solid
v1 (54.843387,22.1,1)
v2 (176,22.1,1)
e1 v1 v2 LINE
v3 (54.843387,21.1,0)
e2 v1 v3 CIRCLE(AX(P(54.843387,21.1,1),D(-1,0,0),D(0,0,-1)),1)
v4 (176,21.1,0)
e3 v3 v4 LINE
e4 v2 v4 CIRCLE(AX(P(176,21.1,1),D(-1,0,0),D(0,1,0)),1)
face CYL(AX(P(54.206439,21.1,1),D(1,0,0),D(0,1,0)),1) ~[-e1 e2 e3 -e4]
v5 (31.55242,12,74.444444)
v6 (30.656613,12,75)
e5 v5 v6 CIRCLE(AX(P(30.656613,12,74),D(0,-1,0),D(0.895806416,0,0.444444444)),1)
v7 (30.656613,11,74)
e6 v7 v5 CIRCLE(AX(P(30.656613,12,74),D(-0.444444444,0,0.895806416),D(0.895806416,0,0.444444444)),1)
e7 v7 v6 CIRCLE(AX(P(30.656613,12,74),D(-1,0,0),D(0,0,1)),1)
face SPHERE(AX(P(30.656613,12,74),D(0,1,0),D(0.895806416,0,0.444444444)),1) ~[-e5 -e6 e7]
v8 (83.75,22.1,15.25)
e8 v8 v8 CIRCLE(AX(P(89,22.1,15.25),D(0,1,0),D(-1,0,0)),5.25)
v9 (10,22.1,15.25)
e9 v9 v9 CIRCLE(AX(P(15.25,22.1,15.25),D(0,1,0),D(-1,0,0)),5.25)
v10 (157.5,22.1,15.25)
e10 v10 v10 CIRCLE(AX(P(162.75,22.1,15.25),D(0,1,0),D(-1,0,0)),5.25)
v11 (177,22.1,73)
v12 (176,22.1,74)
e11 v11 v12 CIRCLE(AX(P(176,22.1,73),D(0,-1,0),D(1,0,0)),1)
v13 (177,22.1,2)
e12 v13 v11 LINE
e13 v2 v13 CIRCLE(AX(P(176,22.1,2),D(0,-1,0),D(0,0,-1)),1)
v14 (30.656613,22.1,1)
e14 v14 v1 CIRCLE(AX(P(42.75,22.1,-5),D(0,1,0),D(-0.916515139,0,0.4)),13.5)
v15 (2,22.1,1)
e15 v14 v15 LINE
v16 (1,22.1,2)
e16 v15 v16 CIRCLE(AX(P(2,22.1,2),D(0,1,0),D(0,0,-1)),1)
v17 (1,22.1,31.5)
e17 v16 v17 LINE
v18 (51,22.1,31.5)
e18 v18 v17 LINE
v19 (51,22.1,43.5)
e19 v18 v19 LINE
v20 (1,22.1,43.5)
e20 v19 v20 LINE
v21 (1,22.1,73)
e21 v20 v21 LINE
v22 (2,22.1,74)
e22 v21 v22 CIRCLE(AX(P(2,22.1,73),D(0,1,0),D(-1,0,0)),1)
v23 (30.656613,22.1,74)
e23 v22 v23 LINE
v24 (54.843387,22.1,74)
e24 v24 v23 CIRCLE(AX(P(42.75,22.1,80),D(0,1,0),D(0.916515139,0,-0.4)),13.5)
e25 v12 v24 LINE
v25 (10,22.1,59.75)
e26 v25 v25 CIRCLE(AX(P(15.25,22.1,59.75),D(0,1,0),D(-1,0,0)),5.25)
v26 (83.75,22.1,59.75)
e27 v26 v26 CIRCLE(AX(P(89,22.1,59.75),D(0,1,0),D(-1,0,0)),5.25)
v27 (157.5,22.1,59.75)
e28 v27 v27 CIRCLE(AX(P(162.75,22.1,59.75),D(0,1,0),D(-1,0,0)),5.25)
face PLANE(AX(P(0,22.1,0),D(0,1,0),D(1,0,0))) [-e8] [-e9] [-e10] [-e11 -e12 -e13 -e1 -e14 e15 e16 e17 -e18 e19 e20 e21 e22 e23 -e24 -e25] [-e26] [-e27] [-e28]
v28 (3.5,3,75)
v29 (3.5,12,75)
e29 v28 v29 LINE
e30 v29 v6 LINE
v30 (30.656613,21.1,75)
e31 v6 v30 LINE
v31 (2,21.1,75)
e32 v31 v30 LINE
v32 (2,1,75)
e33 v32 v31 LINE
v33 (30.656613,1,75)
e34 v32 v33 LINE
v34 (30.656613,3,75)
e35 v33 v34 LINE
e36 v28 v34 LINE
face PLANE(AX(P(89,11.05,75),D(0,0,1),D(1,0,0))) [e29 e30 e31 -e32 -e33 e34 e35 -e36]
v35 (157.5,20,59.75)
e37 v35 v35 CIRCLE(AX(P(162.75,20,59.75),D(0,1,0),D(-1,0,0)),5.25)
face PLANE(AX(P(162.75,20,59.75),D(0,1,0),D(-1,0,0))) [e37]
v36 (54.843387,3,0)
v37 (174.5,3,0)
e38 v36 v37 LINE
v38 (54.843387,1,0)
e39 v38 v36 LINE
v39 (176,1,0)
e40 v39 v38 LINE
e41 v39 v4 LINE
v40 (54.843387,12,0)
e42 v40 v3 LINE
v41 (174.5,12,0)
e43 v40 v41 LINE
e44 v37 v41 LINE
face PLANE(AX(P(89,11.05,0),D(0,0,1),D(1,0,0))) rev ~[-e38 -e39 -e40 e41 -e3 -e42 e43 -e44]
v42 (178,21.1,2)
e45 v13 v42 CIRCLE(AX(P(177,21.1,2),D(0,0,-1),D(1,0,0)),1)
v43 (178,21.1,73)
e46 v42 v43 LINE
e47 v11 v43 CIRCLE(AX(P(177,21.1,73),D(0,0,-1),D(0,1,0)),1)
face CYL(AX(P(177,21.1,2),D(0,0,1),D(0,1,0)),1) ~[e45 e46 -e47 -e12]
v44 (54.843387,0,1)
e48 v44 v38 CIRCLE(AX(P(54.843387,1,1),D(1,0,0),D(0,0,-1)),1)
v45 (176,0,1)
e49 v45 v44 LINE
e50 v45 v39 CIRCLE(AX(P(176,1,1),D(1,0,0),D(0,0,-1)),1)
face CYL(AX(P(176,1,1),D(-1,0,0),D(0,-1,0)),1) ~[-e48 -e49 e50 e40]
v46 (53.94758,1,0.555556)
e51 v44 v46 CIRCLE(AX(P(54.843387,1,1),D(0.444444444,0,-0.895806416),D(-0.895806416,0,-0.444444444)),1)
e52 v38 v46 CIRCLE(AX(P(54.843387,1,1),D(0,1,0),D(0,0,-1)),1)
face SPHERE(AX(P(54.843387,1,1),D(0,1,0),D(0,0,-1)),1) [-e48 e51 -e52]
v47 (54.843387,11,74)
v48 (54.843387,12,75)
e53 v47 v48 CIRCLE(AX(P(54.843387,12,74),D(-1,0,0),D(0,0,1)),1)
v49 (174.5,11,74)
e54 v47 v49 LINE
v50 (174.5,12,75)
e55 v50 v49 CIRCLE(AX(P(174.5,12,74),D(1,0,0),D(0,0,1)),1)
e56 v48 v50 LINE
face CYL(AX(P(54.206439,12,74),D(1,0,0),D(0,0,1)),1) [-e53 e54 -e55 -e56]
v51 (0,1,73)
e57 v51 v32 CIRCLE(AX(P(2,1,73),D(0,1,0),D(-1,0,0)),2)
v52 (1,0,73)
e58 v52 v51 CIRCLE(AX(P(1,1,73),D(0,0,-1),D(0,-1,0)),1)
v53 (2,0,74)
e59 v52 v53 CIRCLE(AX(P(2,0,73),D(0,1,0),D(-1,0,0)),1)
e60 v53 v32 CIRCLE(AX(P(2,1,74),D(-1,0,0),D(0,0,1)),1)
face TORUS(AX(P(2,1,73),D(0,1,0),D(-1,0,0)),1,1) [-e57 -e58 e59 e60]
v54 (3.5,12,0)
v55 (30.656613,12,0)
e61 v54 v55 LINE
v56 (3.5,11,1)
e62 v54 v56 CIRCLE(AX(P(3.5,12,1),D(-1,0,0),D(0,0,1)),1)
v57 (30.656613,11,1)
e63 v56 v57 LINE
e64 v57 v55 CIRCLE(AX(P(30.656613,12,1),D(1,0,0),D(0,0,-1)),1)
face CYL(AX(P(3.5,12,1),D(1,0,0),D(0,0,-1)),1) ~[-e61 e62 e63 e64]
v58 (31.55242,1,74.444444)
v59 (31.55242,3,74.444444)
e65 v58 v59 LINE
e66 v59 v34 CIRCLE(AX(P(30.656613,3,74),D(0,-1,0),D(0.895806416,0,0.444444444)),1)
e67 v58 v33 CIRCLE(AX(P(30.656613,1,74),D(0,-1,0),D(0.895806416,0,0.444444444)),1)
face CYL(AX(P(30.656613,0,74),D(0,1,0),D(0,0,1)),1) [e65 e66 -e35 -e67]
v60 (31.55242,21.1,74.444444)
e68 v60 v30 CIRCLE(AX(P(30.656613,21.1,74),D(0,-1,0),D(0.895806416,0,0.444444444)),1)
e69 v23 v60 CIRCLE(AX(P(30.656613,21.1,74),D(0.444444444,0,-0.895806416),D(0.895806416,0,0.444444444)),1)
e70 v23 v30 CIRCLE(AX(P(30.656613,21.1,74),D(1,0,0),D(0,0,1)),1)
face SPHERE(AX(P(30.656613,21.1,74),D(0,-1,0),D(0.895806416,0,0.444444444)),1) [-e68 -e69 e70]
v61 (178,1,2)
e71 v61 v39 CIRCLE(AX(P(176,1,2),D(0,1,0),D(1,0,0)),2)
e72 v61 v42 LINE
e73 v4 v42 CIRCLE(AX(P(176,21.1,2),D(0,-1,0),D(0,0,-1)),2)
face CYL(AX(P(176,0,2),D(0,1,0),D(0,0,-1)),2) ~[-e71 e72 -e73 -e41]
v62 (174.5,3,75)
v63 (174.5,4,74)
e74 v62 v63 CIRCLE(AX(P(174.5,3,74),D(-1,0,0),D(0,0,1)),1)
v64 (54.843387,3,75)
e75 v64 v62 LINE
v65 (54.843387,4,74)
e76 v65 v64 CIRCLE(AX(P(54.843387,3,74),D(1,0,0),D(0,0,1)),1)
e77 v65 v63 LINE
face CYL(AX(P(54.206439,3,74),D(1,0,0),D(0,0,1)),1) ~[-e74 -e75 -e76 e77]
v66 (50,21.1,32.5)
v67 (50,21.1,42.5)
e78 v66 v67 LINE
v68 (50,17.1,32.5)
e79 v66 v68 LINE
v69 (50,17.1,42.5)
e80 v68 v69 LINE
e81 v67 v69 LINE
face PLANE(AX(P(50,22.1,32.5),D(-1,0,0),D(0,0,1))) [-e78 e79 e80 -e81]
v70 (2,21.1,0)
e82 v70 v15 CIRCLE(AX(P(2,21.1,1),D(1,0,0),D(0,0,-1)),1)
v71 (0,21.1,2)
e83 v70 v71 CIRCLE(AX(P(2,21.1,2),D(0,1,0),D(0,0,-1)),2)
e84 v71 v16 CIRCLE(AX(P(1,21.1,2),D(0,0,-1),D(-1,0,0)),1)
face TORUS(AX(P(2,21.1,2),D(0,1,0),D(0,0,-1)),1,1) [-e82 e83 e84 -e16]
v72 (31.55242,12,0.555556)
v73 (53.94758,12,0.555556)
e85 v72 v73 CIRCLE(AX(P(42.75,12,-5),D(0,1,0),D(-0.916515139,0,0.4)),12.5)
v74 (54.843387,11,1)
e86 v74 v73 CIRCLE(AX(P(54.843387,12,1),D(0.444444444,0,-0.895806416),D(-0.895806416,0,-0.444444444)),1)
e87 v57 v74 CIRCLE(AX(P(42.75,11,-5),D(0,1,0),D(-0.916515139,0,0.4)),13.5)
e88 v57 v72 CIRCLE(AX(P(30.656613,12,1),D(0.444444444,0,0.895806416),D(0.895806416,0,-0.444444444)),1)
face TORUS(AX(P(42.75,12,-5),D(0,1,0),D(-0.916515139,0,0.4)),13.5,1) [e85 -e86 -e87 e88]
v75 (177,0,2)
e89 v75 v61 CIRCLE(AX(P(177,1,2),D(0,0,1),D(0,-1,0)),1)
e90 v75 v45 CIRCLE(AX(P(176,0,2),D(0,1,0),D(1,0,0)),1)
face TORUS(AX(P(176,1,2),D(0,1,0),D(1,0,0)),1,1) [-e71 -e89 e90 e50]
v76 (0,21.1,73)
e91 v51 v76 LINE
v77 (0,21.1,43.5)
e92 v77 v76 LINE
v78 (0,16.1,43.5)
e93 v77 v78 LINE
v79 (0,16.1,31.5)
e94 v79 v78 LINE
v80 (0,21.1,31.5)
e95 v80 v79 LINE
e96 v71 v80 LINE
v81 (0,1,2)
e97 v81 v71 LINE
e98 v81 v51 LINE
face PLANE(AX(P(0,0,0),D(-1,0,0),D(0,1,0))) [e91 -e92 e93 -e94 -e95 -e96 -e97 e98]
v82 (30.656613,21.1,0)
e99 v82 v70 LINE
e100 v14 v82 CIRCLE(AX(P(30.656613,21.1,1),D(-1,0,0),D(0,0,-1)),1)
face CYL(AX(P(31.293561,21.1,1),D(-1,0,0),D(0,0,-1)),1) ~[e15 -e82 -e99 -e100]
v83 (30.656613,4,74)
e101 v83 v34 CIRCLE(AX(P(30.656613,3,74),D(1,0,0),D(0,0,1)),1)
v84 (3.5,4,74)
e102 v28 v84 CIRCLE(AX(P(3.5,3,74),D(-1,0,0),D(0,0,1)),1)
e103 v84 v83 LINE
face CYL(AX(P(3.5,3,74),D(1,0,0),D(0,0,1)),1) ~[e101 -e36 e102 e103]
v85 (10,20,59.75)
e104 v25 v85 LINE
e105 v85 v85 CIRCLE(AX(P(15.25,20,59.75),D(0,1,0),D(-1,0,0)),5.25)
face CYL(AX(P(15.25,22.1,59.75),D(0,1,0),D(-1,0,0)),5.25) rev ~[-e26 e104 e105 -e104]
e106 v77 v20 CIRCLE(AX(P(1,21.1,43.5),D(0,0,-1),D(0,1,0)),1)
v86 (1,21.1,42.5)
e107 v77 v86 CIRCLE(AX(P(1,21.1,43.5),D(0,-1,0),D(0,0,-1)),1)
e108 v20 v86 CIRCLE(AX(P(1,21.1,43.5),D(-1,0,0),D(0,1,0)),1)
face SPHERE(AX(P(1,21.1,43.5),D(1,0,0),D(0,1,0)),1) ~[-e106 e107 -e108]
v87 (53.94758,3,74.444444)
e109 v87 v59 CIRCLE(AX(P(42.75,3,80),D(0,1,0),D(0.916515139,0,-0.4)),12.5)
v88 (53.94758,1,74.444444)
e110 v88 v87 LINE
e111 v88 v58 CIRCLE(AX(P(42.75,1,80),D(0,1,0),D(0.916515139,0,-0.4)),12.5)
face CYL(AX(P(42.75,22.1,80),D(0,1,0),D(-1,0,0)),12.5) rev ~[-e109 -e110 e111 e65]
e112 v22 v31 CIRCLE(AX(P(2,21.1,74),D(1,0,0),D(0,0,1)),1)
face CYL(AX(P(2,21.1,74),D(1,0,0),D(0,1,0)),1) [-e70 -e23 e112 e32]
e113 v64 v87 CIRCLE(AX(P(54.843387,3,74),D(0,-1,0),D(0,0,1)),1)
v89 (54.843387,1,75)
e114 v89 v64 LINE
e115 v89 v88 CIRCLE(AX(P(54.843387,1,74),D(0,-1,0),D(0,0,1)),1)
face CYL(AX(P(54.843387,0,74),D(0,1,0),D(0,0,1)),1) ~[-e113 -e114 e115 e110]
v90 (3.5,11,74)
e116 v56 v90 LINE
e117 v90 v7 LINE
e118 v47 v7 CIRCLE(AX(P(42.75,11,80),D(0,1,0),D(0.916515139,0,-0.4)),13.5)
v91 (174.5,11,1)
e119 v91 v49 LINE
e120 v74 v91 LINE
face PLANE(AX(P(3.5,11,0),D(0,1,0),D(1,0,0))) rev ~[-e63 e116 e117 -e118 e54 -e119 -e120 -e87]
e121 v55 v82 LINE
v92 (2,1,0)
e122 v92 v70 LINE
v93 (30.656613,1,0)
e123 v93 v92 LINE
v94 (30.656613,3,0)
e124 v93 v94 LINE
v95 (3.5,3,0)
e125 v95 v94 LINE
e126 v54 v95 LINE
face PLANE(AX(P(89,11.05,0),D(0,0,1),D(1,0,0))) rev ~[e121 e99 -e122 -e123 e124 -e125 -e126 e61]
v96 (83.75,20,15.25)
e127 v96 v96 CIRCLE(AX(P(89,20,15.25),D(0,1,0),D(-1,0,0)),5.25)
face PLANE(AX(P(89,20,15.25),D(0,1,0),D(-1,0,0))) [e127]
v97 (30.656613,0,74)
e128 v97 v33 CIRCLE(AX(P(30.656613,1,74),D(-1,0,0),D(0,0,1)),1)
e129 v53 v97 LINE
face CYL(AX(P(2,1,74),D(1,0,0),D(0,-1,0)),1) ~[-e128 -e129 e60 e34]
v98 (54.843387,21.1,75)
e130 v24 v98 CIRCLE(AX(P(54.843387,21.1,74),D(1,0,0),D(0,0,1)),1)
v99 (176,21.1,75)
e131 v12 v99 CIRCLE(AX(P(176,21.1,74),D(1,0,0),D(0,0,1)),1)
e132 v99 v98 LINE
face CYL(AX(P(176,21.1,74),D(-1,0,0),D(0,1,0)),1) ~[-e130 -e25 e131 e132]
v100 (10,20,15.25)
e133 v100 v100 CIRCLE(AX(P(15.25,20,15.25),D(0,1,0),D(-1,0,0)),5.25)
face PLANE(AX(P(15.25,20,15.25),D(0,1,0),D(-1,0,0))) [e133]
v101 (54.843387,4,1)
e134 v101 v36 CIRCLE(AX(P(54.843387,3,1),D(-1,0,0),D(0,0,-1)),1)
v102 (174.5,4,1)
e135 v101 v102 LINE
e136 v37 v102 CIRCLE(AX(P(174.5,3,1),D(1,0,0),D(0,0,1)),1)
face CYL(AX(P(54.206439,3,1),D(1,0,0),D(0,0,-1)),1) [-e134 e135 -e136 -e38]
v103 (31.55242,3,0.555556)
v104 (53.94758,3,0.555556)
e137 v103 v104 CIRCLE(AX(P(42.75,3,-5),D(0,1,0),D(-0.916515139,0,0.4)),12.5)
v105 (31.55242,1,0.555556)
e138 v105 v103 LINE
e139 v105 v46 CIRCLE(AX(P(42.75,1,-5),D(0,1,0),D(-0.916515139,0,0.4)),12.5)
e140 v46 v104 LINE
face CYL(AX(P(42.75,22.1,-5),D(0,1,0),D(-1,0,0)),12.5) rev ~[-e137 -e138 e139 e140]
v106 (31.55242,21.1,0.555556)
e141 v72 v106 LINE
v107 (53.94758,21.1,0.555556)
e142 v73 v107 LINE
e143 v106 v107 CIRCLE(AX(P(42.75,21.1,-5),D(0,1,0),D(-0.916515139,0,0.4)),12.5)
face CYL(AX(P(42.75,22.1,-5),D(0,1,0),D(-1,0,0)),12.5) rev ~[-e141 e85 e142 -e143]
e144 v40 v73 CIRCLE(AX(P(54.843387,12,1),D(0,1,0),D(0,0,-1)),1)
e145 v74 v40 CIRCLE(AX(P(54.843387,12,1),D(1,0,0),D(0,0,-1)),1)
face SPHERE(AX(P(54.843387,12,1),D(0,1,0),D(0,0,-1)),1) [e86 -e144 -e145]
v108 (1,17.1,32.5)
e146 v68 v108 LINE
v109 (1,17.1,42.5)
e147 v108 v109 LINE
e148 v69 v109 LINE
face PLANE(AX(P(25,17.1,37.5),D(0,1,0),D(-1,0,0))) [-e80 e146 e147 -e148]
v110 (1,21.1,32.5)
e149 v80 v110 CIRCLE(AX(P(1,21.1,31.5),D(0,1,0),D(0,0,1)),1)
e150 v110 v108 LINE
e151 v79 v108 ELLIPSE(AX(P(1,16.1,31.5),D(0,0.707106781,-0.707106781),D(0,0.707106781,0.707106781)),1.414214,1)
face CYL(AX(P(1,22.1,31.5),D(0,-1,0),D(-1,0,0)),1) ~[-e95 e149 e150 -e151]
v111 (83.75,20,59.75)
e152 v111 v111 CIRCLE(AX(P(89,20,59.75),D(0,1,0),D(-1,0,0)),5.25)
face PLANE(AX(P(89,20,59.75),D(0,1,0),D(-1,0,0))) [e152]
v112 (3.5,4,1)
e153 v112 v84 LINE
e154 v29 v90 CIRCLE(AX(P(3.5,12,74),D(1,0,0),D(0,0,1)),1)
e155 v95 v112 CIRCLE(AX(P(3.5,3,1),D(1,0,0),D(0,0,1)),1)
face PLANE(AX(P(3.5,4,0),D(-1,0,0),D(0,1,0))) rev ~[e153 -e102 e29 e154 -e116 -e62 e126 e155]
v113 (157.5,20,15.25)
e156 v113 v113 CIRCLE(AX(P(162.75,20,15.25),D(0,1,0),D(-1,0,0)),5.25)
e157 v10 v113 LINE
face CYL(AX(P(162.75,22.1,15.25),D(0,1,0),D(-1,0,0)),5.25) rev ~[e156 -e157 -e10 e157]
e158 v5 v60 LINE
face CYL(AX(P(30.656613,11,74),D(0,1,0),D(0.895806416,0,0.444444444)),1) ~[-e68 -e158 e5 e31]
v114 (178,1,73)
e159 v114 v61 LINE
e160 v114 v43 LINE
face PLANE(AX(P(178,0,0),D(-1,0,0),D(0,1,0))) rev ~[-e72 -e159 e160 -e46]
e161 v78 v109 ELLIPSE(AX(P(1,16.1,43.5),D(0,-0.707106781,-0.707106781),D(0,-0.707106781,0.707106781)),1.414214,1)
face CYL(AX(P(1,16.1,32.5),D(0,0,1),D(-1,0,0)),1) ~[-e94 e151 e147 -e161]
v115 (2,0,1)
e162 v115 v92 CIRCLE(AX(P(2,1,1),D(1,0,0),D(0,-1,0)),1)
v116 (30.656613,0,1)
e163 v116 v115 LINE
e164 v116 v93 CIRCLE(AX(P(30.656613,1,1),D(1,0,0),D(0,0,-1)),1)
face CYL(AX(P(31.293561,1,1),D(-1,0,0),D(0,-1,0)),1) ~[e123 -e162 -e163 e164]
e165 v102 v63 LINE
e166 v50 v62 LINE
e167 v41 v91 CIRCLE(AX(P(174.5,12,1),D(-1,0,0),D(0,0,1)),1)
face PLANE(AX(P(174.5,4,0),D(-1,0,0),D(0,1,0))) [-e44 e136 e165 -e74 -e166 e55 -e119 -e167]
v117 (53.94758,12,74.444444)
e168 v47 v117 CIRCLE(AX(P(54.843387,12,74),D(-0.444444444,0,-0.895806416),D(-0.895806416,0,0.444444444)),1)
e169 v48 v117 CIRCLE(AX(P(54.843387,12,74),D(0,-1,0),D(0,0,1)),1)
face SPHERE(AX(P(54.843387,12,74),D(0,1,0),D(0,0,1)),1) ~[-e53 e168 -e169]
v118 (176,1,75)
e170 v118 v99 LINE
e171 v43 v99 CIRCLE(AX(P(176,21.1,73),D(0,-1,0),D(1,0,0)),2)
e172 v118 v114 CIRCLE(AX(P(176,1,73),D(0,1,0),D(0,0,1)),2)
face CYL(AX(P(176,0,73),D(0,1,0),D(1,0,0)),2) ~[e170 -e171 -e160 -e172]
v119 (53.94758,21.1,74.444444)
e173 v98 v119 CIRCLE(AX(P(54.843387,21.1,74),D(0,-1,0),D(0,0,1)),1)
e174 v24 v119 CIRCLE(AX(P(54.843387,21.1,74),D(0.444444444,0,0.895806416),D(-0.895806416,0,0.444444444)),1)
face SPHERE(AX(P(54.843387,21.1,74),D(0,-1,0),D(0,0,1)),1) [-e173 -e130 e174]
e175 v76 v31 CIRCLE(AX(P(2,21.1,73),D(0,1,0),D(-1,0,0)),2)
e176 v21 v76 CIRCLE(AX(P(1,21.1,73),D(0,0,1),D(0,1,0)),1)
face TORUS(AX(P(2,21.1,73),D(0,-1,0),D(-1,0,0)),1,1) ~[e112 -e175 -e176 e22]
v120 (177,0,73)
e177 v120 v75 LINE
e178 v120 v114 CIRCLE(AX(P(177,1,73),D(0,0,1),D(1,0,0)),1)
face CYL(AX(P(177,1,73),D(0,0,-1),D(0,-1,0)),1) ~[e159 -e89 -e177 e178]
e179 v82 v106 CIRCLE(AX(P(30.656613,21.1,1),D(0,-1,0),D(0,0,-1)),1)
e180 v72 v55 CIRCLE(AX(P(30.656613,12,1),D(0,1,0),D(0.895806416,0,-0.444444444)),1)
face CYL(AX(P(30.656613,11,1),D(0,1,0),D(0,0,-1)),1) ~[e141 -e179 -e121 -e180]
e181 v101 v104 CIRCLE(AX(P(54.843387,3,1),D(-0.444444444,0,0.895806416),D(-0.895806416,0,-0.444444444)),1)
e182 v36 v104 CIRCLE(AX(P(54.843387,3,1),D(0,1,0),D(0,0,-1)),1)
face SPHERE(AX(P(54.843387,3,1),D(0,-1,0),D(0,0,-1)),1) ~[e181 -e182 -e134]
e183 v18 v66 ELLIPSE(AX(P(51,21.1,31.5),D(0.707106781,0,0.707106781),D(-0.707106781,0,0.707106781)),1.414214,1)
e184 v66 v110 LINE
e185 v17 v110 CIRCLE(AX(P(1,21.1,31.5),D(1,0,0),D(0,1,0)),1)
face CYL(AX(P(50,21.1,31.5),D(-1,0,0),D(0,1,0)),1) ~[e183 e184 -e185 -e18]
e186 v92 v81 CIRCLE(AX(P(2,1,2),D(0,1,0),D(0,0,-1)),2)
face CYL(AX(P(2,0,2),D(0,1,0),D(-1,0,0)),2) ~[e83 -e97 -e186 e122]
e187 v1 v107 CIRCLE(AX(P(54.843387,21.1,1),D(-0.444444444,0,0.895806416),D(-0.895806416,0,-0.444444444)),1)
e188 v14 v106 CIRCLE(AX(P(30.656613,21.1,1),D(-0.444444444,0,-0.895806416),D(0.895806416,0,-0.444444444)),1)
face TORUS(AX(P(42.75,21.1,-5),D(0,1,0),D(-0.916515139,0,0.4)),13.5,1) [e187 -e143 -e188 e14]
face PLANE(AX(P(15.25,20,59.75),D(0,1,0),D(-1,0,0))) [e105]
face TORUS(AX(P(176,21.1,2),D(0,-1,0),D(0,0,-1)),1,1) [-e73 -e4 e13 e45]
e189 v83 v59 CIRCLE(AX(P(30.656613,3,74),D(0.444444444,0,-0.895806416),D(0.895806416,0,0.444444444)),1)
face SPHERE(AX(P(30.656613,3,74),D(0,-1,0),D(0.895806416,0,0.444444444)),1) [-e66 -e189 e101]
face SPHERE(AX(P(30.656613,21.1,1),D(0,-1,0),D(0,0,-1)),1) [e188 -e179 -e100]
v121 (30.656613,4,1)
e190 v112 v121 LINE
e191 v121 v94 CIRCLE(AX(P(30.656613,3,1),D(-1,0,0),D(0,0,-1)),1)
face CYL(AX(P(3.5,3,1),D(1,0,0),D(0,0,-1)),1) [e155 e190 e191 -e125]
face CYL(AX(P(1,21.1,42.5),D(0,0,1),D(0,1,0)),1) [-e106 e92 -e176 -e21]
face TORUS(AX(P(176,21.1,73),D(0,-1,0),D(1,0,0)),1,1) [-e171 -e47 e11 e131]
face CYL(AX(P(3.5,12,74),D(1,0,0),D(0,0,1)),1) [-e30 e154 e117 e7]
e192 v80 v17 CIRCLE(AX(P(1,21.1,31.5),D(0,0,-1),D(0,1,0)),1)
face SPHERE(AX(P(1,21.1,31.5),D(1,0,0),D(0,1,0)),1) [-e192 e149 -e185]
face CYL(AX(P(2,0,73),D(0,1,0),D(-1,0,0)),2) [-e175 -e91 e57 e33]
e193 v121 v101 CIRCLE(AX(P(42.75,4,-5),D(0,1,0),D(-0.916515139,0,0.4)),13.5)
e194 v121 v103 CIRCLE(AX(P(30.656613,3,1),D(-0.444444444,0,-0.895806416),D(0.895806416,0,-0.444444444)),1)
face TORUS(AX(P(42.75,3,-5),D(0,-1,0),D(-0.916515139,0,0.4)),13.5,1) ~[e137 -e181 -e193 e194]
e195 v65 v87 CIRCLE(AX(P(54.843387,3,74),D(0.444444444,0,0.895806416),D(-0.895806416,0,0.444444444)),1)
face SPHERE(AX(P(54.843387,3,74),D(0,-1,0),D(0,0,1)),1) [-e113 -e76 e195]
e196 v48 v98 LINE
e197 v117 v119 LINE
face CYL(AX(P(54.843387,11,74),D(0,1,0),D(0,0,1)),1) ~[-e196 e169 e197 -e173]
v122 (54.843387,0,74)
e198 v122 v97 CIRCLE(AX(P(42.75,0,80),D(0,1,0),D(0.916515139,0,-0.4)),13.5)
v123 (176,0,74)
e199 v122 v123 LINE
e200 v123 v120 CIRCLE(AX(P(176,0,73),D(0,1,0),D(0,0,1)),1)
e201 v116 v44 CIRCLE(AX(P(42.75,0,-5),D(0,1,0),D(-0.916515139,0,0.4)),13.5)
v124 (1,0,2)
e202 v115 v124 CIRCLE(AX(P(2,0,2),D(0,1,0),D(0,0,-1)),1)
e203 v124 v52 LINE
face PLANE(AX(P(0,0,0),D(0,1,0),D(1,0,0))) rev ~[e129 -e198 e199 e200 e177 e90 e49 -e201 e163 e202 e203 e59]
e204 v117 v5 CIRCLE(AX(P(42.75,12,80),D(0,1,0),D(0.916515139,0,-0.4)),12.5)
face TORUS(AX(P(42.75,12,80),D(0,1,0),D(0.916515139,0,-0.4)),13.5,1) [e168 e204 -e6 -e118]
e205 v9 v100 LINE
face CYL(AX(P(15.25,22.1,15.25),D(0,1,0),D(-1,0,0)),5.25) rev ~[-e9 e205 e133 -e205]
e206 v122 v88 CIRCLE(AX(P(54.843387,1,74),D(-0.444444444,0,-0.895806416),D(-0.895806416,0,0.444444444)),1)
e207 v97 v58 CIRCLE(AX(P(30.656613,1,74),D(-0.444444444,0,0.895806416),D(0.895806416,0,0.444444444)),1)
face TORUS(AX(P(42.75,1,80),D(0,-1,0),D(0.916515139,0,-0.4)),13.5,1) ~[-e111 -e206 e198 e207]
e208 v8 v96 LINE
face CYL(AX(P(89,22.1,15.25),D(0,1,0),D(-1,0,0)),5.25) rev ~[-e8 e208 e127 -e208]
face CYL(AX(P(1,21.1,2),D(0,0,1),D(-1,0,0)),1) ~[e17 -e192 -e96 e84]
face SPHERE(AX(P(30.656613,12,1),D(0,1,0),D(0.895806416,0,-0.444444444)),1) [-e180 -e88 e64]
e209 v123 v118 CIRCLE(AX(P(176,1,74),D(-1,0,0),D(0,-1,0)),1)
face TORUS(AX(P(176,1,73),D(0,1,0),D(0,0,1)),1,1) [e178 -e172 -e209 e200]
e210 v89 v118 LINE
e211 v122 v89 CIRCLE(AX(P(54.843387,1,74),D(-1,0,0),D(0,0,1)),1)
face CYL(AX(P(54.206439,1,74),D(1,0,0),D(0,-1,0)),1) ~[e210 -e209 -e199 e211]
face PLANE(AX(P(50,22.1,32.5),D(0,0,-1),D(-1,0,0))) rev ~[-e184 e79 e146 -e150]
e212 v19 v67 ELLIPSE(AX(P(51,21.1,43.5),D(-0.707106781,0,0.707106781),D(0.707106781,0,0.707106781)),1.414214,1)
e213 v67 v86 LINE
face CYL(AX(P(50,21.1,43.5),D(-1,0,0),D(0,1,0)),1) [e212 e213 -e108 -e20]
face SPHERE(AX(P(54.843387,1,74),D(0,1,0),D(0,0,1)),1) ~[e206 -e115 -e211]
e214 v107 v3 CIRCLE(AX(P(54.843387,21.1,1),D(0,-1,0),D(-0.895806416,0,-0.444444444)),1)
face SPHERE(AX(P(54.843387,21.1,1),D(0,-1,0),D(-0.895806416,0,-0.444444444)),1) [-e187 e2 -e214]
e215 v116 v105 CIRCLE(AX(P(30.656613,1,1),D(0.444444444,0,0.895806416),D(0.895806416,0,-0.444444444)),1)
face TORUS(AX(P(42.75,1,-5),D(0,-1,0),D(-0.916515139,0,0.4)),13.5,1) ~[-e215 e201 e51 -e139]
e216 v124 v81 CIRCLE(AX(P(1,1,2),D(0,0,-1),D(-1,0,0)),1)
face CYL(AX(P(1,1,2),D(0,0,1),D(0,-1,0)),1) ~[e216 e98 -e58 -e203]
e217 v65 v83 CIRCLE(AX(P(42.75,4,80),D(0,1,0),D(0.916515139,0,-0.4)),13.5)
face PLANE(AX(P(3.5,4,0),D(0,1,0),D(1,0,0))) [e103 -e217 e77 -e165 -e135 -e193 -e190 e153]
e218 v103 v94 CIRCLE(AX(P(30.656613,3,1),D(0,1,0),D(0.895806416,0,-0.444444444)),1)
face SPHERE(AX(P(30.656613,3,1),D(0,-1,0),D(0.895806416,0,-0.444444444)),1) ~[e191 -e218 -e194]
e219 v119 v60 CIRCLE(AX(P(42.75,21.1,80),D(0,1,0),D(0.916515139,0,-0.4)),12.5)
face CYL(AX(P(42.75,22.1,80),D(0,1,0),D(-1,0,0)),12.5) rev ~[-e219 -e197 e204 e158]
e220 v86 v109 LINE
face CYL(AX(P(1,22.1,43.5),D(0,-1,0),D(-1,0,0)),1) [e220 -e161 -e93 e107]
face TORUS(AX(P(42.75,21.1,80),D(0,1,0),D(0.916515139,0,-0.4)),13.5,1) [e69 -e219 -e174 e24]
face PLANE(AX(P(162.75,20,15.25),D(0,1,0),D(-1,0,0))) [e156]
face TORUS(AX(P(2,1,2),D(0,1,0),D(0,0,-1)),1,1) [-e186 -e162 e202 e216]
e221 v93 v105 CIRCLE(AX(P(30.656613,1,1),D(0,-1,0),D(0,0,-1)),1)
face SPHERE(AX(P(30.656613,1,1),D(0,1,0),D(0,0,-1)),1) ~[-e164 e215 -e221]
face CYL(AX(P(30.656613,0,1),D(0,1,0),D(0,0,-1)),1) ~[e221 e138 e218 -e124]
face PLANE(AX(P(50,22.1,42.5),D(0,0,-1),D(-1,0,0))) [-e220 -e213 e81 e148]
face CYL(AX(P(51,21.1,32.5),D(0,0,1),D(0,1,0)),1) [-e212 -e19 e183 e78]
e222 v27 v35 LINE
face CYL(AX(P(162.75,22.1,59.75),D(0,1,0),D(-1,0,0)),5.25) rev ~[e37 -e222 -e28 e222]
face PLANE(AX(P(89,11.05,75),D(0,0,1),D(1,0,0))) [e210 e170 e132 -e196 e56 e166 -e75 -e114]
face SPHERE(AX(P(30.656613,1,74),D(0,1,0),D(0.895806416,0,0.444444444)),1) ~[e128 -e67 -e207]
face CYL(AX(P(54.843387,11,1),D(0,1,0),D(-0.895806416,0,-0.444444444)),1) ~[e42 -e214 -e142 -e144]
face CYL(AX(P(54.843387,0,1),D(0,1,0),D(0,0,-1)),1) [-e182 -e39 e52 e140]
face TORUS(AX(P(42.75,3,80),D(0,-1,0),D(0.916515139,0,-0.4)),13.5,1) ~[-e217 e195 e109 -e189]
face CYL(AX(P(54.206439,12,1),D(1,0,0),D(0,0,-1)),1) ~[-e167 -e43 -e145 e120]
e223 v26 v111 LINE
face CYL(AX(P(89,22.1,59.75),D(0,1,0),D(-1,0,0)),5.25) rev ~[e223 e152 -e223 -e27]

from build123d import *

# Parameters (mm, degrees)
SKETCH_W        = 178
SKETCH_H        = 22.1
SKETCH_W_2      = 171
SKETCH_H_2      = 7
PAD_DEPTH       = 75
SKETCH001_R     = 5.25
POCKET_DEPTH    = 2.1
SKETCH002_R     = 12.5
POCKET001_DEPTH = 50
FILLET_R        = 2
SKETCH003_W     = 50
SKETCH003_H     = 10
POCKET002_DEPTH = 5
FILLET002_R     = 1


with BuildPart() as part:
    # Sketch → Pad (new body)
    with BuildSketch(Plane.XY):
        with Locations((89, 11.05)):
            Rectangle(SKETCH_W, SKETCH_H)
        with Locations((89, 7.5)):
            Rectangle(SKETCH_W_2, SKETCH_H_2, mode=Mode.SUBTRACT)
    extrude(amount=PAD_DEPTH)

    # Sketch001 (on Face3 of Pad) → Pocket (cut)
    with BuildSketch(Plane(origin=(0, 22.1, 0), x_dir=(-1, 0, 0), z_dir=(0, 1, 0))):
        with Locations((-162.75, 59.75)):
            Circle(SKETCH001_R)
        with Locations((-162.75, 15.25)):
            Circle(SKETCH001_R)
        with Locations((-15.25, 59.75)):
            Circle(SKETCH001_R)
        with Locations((-15.25, 15.25)):
            Circle(SKETCH001_R)
        with Locations((-89, 59.75)):
            Circle(SKETCH001_R)
        with Locations((-89, 15.25)):
            Circle(SKETCH001_R)
    extrude(amount=-POCKET_DEPTH, mode=Mode.SUBTRACT)

    # Sketch002 (on Face6 of Pocket) → Pocket001 (cut)
    with BuildSketch(Plane(origin=(0, 22.1, 0), x_dir=(-1, 0, 0), z_dir=(0, 1, 0))):
        with Locations((-42.75, -5)):
            Circle(SKETCH002_R)
        with Locations((-42.75, 80)):
            Circle(SKETCH002_R)
    extrude(amount=-POCKET001_DEPTH, mode=Mode.SUBTRACT)

    # Fillet
    fillet_edges = [part.edges().sort_by_distance(p)[0] for p in [
        (178, 11.05, 75),
        (178, 11.05, 0),
        (0, 11.05, 0),
        (0, 11.05, 75),
    ]]
    fillet(fillet_edges, radius=FILLET_R)

    # Sketch003 (on Face10 of Pocket001) → Pocket002 (cut)
    with BuildSketch(Plane(origin=(0, 22.1, 0), x_dir=(-1, 0, 0), z_dir=(0, 1, 0))):
        with Locations((-25, 37.5)):
            Rectangle(SKETCH003_W, SKETCH003_H)
    extrude(amount=-POCKET002_DEPTH, mode=Mode.SUBTRACT)

    # Fillet002
    fillet002_edges = [part.edges().sort_by_distance(p)[0] for p in [
        (25, 22.1, 32.5),
        (50, 22.1, 37.5),
        (25, 22.1, 42.5),
        (0, 22.1, 17.25),
        (16.64678, 22.1, 0),
        (42.75, 22.1, 7.5),
        (115.10322, 22.1, 0),
        (178, 22.1, 37.5),
        (115.10322, 22.1, 75),
        (114.35322, 11, 75),
        (114.35322, 4, 75),
        (115.10322, 0, 75),
        (42.75, 22.1, 67.5),
        (42.75, 11, 67.5),
        (42.75, 4, 67.5),
        (42.75, 0, 67.5),
        (16.64678, 0, 75),
        (17.39678, 4, 75),
        (17.39678, 11, 75),
        (16.64678, 22.1, 75),
        (0, 22.1, 57.75),
        (0, 17.1, 37.5),
        (0, 19.6, 42.5),
        (0, 19.6, 32.5),
        (0, 0, 37.5),
        (178, 0, 37.5),
        (114.35322, 11, 0),
        (115.10322, 0, 0),
        (114.35322, 4, 0),
        (42.75, 0, 7.5),
        (42.75, 4, 7.5),
        (42.75, 11, 7.5),
        (16.64678, 0, 0),
        (17.39678, 11, 0),
        (17.39678, 4, 0),
        (54.206439, 16.55, 0),
        (31.293561, 16.55, 0),
        (54.206439, 2, 0),
        (31.293561, 2, 0),
        (54.206439, 2, 75),
        (54.206439, 16.55, 75),
        (31.293561, 16.55, 75),
        (31.293561, 2, 75),
    ]]
    fillet(fillet002_edges, radius=FILLET002_R)


solid = part.part
